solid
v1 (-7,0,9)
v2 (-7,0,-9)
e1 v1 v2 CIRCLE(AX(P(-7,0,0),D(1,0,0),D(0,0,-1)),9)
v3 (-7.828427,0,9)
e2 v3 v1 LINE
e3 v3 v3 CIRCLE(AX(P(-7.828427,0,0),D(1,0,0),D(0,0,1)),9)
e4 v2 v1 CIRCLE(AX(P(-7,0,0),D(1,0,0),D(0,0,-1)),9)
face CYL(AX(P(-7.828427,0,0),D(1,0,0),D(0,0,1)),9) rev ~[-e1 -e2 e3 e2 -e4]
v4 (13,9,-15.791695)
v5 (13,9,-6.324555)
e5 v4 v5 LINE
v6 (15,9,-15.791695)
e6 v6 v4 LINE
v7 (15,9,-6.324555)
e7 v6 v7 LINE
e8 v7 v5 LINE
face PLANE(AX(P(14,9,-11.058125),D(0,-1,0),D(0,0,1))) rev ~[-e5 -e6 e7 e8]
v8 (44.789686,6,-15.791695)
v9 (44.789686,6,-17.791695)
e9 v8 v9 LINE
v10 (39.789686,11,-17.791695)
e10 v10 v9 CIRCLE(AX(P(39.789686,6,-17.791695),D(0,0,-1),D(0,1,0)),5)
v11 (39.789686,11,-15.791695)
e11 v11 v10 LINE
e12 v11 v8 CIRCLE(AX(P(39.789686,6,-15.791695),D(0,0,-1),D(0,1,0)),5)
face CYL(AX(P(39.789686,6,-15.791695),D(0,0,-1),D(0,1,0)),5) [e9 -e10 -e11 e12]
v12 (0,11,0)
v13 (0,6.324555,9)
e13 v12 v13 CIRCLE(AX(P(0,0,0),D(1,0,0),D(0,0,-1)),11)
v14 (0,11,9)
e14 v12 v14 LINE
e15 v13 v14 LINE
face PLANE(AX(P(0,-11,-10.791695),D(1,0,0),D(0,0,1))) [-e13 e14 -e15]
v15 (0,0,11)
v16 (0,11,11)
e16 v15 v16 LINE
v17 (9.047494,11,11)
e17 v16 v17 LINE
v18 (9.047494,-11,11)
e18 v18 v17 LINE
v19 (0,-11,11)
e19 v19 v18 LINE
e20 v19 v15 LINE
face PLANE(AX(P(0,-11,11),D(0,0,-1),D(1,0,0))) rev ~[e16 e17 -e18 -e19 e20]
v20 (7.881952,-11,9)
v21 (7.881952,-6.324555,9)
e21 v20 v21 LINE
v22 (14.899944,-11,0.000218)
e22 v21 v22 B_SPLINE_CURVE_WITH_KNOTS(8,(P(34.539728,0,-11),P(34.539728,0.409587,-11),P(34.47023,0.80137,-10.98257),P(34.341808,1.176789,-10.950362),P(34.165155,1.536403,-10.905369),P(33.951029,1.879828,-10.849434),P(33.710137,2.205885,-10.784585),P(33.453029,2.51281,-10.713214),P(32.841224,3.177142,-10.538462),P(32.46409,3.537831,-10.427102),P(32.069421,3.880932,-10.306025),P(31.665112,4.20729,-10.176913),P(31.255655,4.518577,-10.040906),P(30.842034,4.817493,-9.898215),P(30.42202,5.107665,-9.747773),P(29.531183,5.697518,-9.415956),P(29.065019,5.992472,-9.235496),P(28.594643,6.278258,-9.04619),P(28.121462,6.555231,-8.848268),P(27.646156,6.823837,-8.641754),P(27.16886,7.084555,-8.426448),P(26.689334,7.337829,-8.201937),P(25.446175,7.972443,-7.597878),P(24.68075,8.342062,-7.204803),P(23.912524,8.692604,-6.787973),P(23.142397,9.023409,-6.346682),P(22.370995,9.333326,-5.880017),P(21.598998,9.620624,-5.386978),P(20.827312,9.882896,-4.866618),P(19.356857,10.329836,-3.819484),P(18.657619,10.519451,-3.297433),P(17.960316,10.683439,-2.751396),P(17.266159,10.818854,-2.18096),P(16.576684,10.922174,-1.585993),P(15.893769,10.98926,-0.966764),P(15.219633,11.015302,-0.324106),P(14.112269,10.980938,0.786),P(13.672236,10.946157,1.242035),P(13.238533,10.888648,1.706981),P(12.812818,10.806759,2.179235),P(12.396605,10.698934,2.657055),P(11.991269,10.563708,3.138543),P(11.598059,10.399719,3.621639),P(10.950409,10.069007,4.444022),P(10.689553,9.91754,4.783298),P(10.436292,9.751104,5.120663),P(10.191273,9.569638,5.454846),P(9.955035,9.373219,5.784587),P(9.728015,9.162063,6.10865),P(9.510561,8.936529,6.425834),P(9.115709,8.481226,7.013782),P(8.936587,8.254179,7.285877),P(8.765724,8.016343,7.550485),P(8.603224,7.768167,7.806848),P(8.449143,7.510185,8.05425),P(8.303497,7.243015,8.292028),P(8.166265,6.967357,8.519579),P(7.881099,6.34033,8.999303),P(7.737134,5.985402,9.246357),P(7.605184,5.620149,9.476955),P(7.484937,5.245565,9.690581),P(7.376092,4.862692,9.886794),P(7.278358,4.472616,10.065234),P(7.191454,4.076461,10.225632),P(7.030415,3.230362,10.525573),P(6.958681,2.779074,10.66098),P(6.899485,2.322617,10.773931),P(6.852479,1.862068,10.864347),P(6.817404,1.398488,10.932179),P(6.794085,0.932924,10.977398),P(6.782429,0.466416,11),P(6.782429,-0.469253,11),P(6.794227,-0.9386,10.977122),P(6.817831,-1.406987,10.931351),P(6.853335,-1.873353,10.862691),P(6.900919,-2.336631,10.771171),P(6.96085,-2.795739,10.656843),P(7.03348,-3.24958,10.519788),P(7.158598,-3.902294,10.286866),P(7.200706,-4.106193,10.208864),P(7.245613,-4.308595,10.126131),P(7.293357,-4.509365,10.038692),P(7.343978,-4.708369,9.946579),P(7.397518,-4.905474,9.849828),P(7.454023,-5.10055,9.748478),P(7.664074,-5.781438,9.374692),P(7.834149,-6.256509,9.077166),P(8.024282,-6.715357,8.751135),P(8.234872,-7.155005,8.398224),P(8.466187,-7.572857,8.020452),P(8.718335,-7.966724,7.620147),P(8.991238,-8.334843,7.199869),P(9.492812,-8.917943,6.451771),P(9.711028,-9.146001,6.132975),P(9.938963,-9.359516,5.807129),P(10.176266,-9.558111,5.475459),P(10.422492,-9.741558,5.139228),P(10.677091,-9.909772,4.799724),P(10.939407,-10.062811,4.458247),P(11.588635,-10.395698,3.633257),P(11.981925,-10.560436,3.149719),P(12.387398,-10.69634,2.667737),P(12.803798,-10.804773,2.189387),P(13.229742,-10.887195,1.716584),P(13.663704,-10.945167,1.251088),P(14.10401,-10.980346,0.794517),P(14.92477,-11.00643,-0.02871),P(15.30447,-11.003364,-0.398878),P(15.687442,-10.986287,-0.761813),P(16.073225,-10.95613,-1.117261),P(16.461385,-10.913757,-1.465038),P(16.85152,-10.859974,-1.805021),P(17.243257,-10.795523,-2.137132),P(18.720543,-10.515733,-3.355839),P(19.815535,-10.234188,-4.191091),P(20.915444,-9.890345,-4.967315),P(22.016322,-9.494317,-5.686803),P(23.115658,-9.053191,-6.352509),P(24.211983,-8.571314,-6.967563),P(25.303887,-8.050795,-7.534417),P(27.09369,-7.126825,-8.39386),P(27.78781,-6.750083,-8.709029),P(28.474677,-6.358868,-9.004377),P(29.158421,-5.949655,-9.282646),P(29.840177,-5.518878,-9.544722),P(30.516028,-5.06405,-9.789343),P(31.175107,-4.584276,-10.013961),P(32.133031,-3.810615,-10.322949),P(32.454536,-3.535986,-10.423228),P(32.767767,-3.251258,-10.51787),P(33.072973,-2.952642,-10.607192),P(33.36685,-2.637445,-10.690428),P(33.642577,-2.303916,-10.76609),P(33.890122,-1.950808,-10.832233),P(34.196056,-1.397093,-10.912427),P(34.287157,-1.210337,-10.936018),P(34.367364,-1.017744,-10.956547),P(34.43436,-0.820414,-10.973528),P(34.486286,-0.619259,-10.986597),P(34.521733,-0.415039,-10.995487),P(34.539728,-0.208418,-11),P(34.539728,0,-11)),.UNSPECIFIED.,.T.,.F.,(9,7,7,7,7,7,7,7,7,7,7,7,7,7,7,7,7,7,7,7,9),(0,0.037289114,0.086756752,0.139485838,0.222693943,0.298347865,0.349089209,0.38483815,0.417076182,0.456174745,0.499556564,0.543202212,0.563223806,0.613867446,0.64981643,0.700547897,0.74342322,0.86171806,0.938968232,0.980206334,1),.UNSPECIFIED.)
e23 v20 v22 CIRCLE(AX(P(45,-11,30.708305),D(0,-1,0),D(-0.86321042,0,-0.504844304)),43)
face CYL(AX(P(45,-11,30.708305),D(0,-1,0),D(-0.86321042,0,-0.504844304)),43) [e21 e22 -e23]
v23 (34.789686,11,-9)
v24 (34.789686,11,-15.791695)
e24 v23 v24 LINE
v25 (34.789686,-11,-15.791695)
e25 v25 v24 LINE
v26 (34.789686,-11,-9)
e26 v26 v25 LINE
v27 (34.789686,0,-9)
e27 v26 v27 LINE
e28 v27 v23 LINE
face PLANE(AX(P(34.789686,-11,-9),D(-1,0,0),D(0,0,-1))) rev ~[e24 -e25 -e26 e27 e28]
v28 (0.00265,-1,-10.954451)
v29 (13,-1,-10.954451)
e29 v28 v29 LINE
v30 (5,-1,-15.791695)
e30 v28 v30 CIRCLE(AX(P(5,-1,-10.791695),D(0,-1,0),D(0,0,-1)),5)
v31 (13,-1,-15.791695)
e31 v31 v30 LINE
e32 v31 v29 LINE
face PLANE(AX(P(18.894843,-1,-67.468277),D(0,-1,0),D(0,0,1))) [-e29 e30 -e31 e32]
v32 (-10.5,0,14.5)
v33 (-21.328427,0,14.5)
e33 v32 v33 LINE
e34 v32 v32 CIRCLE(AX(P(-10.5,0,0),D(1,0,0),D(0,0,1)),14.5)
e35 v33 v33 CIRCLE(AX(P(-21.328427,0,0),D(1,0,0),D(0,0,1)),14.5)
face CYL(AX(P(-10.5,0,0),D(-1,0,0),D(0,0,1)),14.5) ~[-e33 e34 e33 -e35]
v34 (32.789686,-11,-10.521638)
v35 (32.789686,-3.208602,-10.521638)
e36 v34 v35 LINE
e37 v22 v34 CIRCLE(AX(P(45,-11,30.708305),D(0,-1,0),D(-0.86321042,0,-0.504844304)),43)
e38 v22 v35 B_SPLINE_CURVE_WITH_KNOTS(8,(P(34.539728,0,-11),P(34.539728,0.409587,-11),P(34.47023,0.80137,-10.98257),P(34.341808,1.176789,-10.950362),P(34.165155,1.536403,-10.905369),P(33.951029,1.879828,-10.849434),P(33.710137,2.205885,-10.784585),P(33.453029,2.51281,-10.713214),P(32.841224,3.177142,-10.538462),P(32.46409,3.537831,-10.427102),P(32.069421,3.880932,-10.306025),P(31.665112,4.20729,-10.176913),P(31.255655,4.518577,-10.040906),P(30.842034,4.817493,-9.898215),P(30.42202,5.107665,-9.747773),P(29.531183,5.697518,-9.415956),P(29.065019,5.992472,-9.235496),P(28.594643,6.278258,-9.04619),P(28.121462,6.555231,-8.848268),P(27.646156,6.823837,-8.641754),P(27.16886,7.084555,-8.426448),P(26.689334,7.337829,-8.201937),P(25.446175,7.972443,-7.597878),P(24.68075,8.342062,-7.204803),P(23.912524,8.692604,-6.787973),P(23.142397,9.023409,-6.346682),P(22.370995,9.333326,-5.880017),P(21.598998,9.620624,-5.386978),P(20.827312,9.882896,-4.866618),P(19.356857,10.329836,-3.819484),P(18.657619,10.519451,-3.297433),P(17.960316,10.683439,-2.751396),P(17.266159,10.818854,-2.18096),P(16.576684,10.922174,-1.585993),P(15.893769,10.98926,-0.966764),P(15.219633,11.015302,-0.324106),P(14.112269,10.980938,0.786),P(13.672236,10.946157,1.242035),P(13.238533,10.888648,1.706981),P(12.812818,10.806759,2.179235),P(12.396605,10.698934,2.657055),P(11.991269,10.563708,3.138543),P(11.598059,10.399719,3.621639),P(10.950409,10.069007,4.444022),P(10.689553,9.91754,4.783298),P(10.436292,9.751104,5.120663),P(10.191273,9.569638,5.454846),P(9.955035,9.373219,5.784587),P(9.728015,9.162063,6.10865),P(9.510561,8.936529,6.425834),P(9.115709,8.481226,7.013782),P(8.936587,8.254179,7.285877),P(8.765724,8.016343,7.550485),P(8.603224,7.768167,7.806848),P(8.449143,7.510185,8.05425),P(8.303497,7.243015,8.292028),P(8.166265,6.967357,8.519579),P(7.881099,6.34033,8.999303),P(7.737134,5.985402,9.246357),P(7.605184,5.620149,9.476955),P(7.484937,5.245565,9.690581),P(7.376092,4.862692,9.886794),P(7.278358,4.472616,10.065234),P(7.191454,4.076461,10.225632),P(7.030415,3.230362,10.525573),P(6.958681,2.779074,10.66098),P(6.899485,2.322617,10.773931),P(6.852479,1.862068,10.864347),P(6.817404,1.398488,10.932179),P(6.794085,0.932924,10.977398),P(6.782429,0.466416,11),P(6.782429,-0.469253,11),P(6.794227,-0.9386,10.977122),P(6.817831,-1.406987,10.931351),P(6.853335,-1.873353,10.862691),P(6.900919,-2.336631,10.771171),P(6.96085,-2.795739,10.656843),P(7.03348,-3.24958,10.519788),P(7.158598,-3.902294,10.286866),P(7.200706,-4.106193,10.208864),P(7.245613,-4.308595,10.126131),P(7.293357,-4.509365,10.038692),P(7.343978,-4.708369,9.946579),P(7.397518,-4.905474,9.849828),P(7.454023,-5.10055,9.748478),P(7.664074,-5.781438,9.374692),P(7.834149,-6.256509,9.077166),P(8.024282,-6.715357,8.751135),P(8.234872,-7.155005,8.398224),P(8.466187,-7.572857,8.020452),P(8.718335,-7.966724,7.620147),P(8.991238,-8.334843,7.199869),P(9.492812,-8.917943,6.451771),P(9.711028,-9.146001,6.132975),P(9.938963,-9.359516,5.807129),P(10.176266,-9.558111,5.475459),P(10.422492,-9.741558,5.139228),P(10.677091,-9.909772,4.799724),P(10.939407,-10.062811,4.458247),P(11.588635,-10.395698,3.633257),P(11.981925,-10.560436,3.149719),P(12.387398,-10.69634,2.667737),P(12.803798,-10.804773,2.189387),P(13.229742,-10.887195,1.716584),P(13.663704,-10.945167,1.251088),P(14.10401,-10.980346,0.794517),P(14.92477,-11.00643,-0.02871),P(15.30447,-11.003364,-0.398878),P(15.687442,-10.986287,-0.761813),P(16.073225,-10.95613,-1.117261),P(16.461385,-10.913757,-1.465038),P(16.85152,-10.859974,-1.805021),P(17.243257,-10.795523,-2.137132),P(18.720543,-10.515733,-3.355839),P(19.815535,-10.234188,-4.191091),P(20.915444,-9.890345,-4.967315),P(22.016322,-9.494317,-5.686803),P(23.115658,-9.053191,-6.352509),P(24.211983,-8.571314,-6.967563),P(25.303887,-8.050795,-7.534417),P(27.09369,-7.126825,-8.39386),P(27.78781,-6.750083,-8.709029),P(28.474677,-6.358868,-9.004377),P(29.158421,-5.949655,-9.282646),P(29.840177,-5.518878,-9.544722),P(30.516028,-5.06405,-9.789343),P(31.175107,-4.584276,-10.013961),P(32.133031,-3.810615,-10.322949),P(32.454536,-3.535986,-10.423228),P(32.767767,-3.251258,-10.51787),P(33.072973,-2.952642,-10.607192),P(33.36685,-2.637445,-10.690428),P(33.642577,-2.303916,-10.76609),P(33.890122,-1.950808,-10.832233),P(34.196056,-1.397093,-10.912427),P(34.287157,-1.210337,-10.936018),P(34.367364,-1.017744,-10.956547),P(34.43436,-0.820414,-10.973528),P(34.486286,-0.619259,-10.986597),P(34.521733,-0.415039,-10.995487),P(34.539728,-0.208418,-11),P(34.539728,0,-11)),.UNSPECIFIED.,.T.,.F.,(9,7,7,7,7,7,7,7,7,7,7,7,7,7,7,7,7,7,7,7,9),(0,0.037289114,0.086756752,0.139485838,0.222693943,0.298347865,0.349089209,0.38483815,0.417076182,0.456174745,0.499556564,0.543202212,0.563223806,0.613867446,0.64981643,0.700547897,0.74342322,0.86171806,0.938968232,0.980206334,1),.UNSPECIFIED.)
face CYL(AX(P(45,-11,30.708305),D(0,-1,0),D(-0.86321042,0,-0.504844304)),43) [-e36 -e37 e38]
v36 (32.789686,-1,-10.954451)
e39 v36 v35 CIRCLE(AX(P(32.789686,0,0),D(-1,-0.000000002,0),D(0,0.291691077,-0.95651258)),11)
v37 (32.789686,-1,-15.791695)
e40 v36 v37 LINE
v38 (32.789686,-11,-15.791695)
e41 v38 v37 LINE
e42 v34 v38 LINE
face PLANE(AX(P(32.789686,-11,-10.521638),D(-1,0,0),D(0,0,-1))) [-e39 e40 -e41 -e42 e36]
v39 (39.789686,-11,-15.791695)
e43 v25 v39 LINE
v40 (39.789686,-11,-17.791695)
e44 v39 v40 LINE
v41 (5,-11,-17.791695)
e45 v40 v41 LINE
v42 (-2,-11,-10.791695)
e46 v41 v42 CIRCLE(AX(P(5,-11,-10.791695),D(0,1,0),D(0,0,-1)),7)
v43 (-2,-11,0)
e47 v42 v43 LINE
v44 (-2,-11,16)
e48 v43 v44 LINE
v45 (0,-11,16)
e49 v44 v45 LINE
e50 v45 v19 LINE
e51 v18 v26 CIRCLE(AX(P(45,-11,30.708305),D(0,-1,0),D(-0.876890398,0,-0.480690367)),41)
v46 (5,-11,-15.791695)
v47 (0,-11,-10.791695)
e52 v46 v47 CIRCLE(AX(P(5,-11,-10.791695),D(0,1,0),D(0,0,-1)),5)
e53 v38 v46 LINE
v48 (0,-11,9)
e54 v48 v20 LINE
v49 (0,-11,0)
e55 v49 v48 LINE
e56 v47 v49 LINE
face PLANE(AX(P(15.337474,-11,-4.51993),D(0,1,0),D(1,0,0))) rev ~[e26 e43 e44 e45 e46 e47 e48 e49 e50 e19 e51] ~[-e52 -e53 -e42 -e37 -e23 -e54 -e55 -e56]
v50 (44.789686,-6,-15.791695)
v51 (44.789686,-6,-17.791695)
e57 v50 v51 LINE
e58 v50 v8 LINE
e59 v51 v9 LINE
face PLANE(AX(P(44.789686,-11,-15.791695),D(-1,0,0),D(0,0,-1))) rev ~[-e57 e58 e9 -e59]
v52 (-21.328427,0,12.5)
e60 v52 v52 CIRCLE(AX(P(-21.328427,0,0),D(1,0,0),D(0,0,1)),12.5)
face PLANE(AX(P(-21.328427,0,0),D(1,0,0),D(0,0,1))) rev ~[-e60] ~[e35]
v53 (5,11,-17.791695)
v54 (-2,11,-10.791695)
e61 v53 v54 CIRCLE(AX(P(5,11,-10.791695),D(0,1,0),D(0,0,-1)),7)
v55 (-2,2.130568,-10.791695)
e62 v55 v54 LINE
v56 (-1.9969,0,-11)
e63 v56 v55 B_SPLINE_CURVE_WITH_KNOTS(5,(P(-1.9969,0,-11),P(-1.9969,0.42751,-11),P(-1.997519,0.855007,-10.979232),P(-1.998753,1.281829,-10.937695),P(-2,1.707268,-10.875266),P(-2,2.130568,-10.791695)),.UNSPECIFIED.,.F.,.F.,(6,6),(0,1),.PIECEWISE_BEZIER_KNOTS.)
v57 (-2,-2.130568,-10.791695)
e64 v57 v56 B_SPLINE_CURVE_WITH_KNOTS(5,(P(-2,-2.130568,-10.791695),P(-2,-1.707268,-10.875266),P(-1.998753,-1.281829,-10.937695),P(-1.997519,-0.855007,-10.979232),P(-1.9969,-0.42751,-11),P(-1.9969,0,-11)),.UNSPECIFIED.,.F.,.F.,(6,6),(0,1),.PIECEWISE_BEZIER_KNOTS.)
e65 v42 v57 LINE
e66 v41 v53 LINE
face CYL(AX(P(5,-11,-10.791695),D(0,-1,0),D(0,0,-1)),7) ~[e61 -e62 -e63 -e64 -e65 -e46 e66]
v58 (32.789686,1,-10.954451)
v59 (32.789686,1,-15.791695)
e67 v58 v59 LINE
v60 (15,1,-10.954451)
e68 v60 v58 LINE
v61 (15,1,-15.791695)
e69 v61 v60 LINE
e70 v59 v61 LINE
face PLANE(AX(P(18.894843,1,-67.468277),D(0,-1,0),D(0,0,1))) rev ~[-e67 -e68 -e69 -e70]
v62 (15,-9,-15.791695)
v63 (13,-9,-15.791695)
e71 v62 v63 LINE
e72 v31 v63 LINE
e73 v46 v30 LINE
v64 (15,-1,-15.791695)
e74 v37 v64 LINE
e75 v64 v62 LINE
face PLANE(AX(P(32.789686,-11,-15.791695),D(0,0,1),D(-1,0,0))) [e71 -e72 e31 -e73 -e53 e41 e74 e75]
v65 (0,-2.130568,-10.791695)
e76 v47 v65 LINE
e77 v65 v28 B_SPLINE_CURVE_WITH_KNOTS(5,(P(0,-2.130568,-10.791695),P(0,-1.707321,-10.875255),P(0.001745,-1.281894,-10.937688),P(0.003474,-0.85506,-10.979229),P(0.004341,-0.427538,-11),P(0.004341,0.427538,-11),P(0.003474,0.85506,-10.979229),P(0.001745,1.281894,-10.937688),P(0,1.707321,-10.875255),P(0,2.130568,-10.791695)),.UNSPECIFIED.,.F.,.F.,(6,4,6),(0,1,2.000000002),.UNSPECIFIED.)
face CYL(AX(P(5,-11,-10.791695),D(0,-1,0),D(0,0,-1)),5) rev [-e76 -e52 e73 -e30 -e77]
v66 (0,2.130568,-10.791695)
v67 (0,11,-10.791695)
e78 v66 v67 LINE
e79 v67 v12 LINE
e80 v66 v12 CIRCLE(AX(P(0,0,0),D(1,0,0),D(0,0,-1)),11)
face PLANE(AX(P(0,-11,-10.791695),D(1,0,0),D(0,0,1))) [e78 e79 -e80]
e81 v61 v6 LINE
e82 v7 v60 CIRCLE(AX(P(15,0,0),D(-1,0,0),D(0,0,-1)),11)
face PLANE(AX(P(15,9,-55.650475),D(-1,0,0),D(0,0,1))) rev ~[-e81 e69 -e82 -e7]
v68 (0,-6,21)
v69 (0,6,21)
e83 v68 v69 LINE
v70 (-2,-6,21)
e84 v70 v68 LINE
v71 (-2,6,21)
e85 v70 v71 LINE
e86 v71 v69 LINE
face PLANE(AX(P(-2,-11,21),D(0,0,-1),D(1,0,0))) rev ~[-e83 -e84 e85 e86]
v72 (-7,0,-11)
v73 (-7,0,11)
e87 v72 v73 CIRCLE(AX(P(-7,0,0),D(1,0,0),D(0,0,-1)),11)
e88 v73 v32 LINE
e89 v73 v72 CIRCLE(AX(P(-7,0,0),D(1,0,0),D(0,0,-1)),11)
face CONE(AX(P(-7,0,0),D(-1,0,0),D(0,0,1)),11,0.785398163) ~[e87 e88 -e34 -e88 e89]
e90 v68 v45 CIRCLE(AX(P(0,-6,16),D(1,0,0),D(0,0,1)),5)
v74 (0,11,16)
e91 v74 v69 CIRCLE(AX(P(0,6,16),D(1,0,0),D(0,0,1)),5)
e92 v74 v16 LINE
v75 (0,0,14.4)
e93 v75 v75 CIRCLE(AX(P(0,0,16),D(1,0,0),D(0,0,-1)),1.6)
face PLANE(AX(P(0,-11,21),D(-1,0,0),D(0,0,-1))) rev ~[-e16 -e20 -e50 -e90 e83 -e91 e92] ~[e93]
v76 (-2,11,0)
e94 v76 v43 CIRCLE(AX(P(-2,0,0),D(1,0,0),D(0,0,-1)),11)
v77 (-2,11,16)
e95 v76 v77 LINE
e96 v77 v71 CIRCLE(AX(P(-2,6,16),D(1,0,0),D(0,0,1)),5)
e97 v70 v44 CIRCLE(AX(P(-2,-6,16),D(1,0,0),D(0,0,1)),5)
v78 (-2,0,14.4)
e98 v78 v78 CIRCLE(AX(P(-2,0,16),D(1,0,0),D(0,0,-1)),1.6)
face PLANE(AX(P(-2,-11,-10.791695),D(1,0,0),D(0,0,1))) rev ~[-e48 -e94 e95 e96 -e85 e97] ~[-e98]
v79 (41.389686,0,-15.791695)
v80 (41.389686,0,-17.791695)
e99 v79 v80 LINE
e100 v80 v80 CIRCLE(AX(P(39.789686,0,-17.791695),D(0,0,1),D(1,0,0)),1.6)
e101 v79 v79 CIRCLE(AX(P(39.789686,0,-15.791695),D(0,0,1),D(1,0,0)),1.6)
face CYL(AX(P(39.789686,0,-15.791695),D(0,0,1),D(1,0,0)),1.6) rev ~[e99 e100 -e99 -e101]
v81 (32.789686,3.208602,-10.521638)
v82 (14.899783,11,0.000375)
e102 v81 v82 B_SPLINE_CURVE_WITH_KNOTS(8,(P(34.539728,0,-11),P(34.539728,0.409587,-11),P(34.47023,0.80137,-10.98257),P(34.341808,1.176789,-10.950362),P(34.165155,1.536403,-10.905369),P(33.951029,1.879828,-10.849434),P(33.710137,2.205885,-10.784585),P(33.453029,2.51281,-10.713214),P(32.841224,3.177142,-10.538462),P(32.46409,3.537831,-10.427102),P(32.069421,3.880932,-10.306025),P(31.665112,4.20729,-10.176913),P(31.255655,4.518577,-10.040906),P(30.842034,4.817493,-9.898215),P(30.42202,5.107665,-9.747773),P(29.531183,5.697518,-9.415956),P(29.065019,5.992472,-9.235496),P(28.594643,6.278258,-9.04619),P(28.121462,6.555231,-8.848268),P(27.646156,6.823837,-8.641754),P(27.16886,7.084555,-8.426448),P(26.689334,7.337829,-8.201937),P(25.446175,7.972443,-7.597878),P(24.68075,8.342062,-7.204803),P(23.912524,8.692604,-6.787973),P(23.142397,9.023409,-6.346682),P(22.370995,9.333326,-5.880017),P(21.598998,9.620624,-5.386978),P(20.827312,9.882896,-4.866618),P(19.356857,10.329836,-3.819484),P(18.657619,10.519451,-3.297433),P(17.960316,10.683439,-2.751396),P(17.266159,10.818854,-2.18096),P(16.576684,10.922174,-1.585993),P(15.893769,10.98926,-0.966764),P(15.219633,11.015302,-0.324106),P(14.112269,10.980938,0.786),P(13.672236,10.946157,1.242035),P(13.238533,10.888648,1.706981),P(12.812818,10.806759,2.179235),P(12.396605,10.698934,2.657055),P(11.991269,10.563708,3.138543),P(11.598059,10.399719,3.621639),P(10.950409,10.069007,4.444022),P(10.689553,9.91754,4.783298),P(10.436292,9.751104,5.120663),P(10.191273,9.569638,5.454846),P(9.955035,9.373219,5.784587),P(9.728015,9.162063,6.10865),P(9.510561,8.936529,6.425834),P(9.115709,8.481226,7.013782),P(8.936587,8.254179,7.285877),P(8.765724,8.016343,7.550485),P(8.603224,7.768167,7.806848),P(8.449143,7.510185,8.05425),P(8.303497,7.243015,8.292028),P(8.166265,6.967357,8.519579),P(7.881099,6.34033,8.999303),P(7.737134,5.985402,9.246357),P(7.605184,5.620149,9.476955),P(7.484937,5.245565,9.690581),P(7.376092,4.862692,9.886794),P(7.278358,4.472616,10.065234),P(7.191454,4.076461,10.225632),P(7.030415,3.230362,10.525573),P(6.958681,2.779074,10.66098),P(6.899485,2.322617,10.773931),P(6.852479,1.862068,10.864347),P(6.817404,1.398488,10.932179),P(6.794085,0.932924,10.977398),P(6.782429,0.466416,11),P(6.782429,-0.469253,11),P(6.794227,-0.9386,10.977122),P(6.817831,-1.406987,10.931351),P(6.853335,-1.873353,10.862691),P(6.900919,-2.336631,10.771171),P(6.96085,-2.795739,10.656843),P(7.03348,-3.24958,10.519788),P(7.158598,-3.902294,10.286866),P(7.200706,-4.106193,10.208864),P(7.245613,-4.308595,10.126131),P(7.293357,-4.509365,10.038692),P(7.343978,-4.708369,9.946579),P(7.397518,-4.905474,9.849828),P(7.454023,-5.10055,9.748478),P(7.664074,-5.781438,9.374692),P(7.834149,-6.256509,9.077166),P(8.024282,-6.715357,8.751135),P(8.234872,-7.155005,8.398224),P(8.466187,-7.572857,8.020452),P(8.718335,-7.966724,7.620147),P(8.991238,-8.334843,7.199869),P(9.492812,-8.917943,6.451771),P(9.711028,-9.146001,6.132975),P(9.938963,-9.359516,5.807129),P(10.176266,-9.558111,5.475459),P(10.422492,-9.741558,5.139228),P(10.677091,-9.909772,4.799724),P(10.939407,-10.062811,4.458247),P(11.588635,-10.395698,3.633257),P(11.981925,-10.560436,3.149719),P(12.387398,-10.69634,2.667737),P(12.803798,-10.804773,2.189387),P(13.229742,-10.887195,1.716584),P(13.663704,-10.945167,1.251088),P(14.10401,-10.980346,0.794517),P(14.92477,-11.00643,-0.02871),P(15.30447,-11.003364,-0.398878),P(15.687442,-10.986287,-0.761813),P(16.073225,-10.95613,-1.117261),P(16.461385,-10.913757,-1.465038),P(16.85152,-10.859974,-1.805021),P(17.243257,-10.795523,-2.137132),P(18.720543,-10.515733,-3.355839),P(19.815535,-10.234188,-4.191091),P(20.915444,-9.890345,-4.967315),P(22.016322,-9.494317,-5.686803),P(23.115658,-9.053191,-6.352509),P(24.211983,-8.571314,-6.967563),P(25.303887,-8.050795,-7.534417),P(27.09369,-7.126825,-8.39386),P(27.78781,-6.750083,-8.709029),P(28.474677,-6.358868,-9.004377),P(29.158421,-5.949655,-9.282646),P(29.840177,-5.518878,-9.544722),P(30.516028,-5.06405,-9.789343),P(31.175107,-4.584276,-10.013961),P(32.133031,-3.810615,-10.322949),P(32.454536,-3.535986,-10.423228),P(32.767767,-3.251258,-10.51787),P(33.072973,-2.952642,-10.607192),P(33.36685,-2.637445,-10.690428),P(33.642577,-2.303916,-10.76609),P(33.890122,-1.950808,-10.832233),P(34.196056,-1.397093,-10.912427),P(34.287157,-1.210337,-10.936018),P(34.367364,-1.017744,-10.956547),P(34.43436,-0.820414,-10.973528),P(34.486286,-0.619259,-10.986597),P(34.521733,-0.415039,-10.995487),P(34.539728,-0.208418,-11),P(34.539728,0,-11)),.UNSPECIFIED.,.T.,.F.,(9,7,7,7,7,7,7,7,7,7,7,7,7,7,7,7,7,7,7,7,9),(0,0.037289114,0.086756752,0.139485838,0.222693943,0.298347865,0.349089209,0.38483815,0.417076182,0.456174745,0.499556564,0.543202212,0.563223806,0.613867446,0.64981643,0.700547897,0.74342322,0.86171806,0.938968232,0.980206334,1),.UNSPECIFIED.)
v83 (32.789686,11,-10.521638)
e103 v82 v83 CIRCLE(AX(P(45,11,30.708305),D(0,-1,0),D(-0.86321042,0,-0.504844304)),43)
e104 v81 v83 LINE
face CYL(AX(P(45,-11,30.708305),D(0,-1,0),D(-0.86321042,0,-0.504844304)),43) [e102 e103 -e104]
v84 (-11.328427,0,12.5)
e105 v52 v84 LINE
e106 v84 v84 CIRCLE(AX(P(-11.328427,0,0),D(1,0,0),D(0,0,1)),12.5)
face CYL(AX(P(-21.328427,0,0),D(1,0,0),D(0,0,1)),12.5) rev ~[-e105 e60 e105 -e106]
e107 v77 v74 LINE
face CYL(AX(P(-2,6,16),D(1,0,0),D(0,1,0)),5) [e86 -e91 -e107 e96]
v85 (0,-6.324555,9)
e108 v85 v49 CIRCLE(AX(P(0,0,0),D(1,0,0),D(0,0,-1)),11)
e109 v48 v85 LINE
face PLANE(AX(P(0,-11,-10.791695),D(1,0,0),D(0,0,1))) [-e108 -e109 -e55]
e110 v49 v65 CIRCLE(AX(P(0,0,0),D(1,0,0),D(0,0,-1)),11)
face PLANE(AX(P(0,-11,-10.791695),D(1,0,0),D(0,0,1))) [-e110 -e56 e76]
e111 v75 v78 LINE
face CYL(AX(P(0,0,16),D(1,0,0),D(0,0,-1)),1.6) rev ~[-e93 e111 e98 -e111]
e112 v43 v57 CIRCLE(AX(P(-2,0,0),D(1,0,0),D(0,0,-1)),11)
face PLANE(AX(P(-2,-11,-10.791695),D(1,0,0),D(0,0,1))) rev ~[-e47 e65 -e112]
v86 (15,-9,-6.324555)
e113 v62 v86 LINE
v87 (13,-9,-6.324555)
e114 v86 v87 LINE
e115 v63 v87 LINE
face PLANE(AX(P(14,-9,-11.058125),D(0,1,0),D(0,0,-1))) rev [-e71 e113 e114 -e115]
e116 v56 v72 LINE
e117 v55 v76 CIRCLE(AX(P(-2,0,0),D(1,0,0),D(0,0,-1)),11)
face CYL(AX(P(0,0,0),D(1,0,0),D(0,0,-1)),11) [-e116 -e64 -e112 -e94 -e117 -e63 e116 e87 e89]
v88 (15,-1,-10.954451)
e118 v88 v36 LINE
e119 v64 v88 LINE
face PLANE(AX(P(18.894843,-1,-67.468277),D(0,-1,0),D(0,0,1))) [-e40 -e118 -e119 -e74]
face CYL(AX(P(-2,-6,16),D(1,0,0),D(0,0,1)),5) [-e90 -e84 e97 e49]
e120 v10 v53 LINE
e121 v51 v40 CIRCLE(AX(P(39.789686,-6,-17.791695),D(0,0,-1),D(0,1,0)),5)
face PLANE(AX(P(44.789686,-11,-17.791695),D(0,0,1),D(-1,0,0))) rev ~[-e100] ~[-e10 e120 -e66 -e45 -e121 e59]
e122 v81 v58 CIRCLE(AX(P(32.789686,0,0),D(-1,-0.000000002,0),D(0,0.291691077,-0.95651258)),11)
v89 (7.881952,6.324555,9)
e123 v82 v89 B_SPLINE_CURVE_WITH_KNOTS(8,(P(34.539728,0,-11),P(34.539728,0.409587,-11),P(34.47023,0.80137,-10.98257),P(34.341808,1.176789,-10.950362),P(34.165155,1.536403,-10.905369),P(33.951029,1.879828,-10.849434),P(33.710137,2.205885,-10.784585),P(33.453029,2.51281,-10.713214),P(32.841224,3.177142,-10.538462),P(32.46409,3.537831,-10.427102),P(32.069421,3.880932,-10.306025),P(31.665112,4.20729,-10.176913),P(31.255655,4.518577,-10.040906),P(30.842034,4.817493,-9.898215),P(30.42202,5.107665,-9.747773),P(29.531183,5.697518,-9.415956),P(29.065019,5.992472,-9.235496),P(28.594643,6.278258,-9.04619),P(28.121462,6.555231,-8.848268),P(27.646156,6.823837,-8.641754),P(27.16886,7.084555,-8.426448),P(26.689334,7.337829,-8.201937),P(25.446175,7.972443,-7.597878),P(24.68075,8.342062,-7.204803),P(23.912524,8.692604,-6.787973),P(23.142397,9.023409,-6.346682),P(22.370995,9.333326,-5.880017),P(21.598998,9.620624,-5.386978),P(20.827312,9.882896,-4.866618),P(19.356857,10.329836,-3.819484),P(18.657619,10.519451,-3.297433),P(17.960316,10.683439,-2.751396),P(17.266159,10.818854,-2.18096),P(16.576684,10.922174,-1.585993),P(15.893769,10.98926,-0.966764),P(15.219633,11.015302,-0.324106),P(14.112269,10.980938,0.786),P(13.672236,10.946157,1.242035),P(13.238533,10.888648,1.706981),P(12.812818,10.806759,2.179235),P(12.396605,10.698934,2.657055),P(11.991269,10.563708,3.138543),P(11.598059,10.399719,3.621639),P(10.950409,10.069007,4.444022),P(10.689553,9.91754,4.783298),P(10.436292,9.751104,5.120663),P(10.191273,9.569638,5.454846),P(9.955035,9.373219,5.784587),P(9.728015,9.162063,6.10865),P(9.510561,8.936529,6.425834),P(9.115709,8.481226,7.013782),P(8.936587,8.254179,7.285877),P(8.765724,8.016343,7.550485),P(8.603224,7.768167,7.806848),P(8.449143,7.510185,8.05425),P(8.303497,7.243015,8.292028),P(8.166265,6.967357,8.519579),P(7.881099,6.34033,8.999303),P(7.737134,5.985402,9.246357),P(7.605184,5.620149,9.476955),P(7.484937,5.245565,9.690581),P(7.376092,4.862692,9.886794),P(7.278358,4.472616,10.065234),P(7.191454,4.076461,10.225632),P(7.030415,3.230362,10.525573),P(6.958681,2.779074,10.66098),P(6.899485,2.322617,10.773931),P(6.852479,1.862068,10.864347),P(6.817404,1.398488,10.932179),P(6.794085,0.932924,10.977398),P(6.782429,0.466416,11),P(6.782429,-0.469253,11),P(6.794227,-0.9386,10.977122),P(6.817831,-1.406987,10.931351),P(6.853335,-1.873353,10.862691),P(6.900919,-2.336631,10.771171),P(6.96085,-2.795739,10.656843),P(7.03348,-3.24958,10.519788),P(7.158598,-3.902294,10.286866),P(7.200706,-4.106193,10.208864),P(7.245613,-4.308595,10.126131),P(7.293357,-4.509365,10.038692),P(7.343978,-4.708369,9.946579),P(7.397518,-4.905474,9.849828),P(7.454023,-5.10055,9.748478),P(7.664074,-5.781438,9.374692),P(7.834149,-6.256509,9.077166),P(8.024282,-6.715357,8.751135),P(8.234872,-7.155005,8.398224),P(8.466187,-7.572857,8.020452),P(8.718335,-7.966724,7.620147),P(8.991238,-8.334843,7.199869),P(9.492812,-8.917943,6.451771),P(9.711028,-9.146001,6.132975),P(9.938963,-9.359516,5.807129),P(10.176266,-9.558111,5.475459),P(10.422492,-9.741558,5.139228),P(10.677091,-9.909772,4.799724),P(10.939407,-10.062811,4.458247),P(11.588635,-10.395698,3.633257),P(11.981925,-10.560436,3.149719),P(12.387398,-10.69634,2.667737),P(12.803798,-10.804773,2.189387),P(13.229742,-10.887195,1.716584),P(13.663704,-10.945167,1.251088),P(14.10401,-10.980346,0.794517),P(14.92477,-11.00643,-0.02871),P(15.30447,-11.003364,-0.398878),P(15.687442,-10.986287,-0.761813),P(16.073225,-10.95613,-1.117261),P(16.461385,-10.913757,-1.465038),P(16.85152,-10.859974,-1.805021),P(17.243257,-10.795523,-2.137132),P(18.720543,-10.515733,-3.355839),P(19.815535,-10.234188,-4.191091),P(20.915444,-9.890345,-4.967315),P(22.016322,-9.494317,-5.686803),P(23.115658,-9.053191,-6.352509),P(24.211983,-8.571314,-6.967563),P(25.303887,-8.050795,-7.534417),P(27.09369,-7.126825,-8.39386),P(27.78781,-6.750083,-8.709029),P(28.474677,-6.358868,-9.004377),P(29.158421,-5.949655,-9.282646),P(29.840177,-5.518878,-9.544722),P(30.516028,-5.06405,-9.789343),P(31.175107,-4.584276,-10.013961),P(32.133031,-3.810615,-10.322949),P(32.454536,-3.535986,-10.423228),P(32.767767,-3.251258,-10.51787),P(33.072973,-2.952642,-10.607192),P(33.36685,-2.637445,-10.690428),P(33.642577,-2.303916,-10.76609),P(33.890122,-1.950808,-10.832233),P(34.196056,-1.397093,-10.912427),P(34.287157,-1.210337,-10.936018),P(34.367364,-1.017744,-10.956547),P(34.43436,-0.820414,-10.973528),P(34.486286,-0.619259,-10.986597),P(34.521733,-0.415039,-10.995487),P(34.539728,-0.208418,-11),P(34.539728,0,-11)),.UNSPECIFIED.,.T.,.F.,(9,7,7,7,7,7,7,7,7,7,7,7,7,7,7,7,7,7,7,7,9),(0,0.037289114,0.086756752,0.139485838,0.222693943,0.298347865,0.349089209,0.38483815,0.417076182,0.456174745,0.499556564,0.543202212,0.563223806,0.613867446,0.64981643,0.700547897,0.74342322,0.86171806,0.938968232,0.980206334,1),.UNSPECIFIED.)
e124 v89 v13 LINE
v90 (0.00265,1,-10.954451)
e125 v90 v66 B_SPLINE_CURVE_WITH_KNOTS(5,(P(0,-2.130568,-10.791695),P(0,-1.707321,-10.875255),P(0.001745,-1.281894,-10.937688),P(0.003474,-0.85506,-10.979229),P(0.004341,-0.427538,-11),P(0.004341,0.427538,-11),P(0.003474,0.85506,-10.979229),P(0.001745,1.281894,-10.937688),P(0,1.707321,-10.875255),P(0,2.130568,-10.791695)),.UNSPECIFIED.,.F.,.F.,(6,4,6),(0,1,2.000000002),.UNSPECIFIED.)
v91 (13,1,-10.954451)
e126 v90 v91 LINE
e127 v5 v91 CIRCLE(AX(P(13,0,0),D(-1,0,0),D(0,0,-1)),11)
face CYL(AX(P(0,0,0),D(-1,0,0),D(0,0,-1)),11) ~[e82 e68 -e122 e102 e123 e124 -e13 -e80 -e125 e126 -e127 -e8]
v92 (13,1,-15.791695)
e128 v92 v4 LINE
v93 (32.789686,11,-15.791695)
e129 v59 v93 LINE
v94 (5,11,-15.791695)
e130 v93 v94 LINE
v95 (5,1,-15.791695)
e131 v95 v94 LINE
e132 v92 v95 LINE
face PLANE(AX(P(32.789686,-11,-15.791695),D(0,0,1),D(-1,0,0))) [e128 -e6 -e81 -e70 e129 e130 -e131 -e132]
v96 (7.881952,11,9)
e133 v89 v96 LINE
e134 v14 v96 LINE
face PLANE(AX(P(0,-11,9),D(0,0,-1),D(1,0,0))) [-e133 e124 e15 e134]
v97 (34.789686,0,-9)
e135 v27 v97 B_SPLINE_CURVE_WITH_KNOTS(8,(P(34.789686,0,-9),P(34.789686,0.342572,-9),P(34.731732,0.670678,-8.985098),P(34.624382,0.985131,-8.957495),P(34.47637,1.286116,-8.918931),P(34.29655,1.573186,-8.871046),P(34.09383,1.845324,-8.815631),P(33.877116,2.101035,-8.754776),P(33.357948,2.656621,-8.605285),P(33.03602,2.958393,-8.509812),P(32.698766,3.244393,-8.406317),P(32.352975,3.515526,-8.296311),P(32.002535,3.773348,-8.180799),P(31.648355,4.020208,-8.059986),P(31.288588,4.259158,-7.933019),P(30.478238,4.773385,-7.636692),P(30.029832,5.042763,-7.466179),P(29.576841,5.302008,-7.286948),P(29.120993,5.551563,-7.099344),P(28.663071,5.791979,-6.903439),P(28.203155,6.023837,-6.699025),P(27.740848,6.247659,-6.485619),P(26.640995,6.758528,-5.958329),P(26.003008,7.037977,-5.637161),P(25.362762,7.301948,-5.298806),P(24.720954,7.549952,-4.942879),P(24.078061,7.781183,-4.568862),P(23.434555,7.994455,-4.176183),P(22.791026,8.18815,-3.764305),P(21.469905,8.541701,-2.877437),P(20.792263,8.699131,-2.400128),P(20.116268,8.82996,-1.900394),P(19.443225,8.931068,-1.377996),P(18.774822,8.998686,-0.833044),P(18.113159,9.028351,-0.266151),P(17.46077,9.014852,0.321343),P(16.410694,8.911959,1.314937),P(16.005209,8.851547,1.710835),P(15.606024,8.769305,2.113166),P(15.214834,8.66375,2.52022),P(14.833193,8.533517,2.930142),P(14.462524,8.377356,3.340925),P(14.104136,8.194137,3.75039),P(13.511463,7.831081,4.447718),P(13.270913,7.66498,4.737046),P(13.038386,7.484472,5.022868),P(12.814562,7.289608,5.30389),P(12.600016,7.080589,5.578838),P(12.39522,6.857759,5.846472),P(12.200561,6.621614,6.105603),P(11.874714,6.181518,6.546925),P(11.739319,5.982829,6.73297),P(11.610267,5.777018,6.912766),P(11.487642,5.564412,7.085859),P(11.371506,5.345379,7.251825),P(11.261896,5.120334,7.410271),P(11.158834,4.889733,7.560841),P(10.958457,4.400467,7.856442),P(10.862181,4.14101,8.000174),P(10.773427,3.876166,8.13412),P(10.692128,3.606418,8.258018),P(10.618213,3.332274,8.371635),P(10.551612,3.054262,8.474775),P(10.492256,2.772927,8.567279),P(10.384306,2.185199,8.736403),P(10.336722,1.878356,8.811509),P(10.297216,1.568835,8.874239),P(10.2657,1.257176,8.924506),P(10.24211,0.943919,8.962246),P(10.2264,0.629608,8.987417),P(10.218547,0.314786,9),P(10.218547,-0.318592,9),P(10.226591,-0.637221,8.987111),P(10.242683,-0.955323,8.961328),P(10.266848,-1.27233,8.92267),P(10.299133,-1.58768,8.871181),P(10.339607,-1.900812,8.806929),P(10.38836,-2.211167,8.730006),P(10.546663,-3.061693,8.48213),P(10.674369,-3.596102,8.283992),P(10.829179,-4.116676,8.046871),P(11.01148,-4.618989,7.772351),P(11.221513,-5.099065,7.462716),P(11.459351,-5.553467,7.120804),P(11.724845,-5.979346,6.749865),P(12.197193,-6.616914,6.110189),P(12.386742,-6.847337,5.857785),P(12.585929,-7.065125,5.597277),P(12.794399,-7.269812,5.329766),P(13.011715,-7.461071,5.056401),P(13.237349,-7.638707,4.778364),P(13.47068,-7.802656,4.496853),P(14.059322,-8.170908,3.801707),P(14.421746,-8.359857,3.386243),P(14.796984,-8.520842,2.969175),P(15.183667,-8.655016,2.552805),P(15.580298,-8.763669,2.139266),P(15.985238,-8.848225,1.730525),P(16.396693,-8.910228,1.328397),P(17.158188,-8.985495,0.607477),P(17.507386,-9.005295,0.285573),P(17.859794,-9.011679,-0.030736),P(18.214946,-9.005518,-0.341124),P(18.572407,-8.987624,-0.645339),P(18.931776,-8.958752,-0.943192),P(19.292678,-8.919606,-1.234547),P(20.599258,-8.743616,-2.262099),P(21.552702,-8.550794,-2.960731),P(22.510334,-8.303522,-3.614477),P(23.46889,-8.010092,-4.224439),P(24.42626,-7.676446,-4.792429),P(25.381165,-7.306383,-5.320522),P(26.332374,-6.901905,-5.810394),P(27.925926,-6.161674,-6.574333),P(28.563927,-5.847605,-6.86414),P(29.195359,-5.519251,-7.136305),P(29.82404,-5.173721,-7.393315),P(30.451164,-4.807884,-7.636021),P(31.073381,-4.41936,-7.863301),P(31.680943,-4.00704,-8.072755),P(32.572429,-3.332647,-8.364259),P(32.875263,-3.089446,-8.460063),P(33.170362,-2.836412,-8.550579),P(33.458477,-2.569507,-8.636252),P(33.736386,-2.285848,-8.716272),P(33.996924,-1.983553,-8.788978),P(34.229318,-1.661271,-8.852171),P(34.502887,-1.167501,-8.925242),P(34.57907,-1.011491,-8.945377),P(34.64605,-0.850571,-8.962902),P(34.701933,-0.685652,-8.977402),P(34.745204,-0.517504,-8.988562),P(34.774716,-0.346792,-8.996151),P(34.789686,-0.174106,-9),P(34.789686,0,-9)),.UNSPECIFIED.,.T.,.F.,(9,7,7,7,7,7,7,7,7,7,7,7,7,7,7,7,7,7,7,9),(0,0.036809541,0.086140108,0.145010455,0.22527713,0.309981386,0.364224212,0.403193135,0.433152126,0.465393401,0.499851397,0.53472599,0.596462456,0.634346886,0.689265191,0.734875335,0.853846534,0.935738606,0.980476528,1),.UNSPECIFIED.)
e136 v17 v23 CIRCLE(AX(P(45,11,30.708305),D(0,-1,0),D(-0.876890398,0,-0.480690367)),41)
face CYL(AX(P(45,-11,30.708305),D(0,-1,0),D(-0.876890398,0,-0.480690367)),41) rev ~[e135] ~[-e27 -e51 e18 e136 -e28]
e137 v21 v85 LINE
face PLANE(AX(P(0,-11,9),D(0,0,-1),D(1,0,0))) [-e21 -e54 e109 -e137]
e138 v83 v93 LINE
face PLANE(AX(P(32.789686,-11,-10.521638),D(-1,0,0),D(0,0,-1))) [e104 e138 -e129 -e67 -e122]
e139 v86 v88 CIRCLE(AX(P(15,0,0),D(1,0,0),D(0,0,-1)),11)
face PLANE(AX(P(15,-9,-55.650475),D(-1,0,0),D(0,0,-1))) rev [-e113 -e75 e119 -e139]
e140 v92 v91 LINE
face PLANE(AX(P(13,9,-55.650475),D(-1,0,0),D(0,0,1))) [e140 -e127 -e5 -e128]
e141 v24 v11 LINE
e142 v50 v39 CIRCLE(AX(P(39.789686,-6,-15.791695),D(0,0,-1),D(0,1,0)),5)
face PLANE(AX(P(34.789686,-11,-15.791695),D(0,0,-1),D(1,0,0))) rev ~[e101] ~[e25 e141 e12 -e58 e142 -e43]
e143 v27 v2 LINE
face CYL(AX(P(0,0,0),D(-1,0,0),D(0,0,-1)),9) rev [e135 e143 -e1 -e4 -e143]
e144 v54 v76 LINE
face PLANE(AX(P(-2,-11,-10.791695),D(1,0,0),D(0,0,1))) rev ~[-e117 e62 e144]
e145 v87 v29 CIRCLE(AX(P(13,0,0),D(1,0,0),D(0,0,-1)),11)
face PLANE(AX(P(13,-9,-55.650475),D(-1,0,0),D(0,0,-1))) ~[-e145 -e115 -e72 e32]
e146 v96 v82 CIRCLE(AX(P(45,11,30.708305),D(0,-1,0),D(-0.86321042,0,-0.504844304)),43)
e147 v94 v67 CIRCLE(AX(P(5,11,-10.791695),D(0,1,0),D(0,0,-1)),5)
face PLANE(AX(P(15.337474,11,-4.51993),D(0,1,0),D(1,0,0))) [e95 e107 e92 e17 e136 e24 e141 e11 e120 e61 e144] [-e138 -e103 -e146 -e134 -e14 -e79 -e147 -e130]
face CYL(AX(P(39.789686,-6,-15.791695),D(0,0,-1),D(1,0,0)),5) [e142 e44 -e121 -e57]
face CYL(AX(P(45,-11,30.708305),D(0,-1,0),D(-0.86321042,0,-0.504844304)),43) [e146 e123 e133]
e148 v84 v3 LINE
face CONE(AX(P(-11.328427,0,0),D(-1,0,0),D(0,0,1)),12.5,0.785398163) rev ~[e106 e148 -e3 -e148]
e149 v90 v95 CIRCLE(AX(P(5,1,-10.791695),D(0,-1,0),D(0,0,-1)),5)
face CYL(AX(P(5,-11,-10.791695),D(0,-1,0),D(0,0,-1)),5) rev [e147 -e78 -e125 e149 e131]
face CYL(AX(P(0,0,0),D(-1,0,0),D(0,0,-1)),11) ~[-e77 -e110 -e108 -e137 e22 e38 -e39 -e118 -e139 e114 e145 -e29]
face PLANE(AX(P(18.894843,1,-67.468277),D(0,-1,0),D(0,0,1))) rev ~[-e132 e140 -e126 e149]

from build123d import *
from build123d.topology import SkipClean

# Parameters (mm, degrees)
EXTRUDE_1_DEPTH                 = 11
EXTRUDE_1_DEPTH_BACK            = 11
EXTRUDE_6_REACH                 = 52.677
EXTRUDE_6_END_RADIUS            = 43
SKETCH_4_R                      = 11
EXTRUDE_6_DIRECTION_2_DEPTH     = 7
RIB_11_REACH                    = 52.677
SKETCH_7_WALL_W                 = 108.144859428
SKETCH_7_WALL_H                 = 2
RIB_12_REACH                    = 52.677
SKETCH_7_2_WALL_W               = 108.144859428
SKETCH_7_2_WALL_H               = 2
RIB_14_REACH                    = 40.859
SKETCH_8_WALL_W                 = 89.184699428
SKETCH_8_WALL_H                 = 2
CUT_EXTRUDE_1_REACH             = 52.677
CUT_EXTRUDE_1_END_RADIUS        = 41
SKETCH_9_R                      = 9
CUT_EXTRUDE_1_DIRECTION_2_DEPTH = 7
CUT_EXTRUDE_2_REACH             = 52.677
SKETCH_10_R                     = 1.6
CUT_EXTRUDE_3_REACH             = 60.998
SKETCH_11_R                     = 1.6
FILLET_1_R                      = 5


with BuildPart() as part:
    # 草图2 → 凸台-拉伸1 (new, two sides: drawn at the far end of the back side and taken through both)
    with BuildSketch(Plane(origin=(0, 0, 0), x_dir=(1, 0, 0), z_dir=(0, 1, 0)).offset(-EXTRUDE_1_DEPTH_BACK)):
        with BuildLine():
            Line((-2, 10.791694934), (-2, -21))
            Line((-2, -21), (0, -21))
            Line((0, -21), (0, -11))
            Line((0, -11), (9.04749367, -11))
            ThreePointArc((9.04749367, -11), (19.845447894, 1.668361044), (34.789686155, 9))
            Line((34.789686155, 9), (34.789686155, 15.791694934))
            Line((34.789686155, 15.791694934), (44.789686155, 15.791694934))
            Line((44.789686155, 15.791694934), (44.789686155, 17.791694934))
            Line((44.789686155, 17.791694934), (5, 17.791694934))
            ThreePointArc((5, 17.791694934), (0.050252532, 15.741442403), (-2, 10.791694934))
        make_face()
        with BuildLine():
            Line((0, 10.791694934), (0, -9))
            Line((0, -9), (7.881951948, -9))
            ThreePointArc((7.881951948, -9), (18.474626995, 3.135521358), (32.789686155, 10.521638371))
            Line((32.789686155, 10.521638371), (32.789686155, 15.791694934))
            Line((32.789686155, 15.791694934), (5, 15.791694934))
            ThreePointArc((5, 15.791694934), (1.464466094, 14.32722884), (0, 10.791694934))
        make_face(mode=Mode.SUBTRACT)
    extrude(amount=EXTRUDE_1_DEPTH + EXTRUDE_1_DEPTH_BACK)

    # 凸台-拉伸6: up to this cylinder (the profile starts outside it)
    extrude_6_end = Plane(origin=(45, 0, 30.708305066), z_dir=(0, 1, 0)) * Cylinder(EXTRUDE_6_END_RADIUS, 192.354, mode=Mode.PRIVATE)
    # 草图4 → 凸台-拉伸6 (add, up to the surface)
    with BuildSketch(Plane(origin=(0, 0, 0), x_dir=(0, 0, -1), z_dir=(1, 0, 0)), mode=Mode.PRIVATE) as extrude_6_sk1:
        Circle(SKETCH_4_R)
    extrude_6_tool1 = extrude(extrude_6_sk1.sketch, amount=EXTRUDE_6_REACH, mode=Mode.PRIVATE) - extrude_6_end
    add(extrude_6_tool1.solids().sort_by_distance((0, 0, 0))[0])

    # 草图4 → 凸台-拉伸6 direction 2 (add)
    with BuildSketch(Plane(origin=(0, 0, 0), x_dir=(0, 0, -1), z_dir=(1, 0, 0))):
        Circle(SKETCH_4_R)
    extrude(amount=-EXTRUDE_6_DIRECTION_2_DEPTH)

    # 草图7 wall → 筋11 (add, up to next)
    with BuildSketch(Plane(origin=(18.894843077, 0, -13.395847467), x_dir=(0, 0, 1), z_dir=(1, 0, 0)), mode=Mode.PRIVATE) as rib_11_sk1:
        Rectangle(SKETCH_7_WALL_W, SKETCH_7_WALL_H)
    rib_11_tool1 = extrude(rib_11_sk1.sketch, amount=-RIB_11_REACH, mode=Mode.PRIVATE) - part.part
    add(rib_11_tool1.solids().sort_by_distance((18.894843077, 0, -13.395847467))[0])

    # 草图7<2> wall → 筋12 (add, up to next)
    with BuildSketch(Plane(origin=(18.894843077, 0, -13.395847467), x_dir=(0, 0, 1), z_dir=(1, 0, 0)), mode=Mode.PRIVATE) as rib_12_sk1:
        Rectangle(SKETCH_7_2_WALL_W, SKETCH_7_2_WALL_H)
    rib_12_tool1 = extrude(rib_12_sk1.sketch, amount=RIB_12_REACH, mode=Mode.PRIVATE) - part.part
    add(rib_12_tool1.solids().sort_by_distance((18.894843077, 0, -13.395847467))[0])

    # 草图8 wall → 筋14 (add, up to next)
    with BuildSketch(Plane(origin=(14, 9, -11.058125127), x_dir=(0, 0, 1), z_dir=(0, -1, 0)), mode=Mode.PRIVATE) as rib_14_sk1:
        Rectangle(SKETCH_8_WALL_W, SKETCH_8_WALL_H)
    rib_14_tool1 = extrude(rib_14_sk1.sketch, amount=RIB_14_REACH, mode=Mode.PRIVATE) - part.part
    rib_14 = rib_14_tool1.solids().sort_by_distance((14, 9, -11.058125127))[0]
    add(rib_14)

    # 镜向1: 筋14 across plane
    add(rib_14.mirror(Plane.ZX))

    # 切除-拉伸1: up to this cylinder (the profile starts outside it)
    cut_extrude_1_end = Plane(origin=(45, 0, 30.708305066), z_dir=(0, 1, 0)) * Cylinder(CUT_EXTRUDE_1_END_RADIUS, 188.354, mode=Mode.PRIVATE)
    # 草图9 → 切除-拉伸1 (cut, up to the surface)
    with BuildSketch(Plane(origin=(0, 0, 0), x_dir=(0, 0, -1), z_dir=(1, 0, 0)), mode=Mode.PRIVATE) as cut_extrude_1_sk1:
        Circle(SKETCH_9_R)
    cut_extrude_1_tool1 = extrude(cut_extrude_1_sk1.sketch, amount=CUT_EXTRUDE_1_REACH, mode=Mode.PRIVATE) - cut_extrude_1_end
    add(cut_extrude_1_tool1.solids().sort_by_distance((0, 0, 0))[0], mode=Mode.SUBTRACT)

    # 草图9 → 切除-拉伸1 direction 2 (cut)
    with BuildSketch(Plane(origin=(0, 0, 0), x_dir=(0, 0, -1), z_dir=(1, 0, 0))):
        Circle(SKETCH_9_R)
    extrude(amount=-CUT_EXTRUDE_1_DIRECTION_2_DEPTH, mode=Mode.SUBTRACT)

    # 草图10 → 切除-拉伸2 (cut, up to next)
    with BuildSketch(Plane(origin=(0, 0, 0), x_dir=(0, 0, -1), z_dir=(1, 0, 0)), mode=Mode.PRIVATE) as cut_extrude_2_sk1:
        with Locations((-16, 0)):
            Circle(SKETCH_10_R)
    cut_extrude_2_tool1 = extrude(cut_extrude_2_sk1.sketch, amount=-CUT_EXTRUDE_2_REACH, mode=Mode.PRIVATE) & part.part
    add(cut_extrude_2_tool1.solids().sort_by_distance((0, 0, 16))[0], mode=Mode.SUBTRACT)

    # 草图11 → 切除-拉伸3 (cut, up to next)
    with BuildSketch(Plane.XY.offset(-15.791694934), mode=Mode.PRIVATE) as cut_extrude_3_sk1:
        with Locations((39.789686155, 0)):
            Circle(SKETCH_11_R)
    cut_extrude_3_tool1 = extrude(cut_extrude_3_sk1.sketch, amount=-CUT_EXTRUDE_3_REACH, mode=Mode.PRIVATE) & part.part
    add(cut_extrude_3_tool1.solids().sort_by_distance((39.789686, 0, -15.791695))[0], mode=Mode.SUBTRACT)

    # 圆角1
    fillet_1_edges = [part.edges().sort_by_distance(p)[0] for p in [
        (44.789686155, -11, -16.791694934),
        (-1, -11, 21),
        (-1, 11, 21),
        (44.789686155, 11, -16.791694934),
    ]]
    fillet(fillet_1_edges, radius=FILLET_1_R)

    # 草图14 → 旋转1 (revolve)
    with SkipClean():  # the faces are left unmerged after this step: merging them gives an invalid solid
        with BuildSketch(Plane.XY, mode=Mode.PRIVATE) as revolve_1_sk:
            Polygon((-10.5, 14.5), (-21.328427125, 14.5), (-21.328427125, 12.5), (-11.328427125, 12.5), (-7.828427125, 9), (-7, 9), (-7, 11), align=None)
        revolve(revolve_1_sk.sketch.rotate(Axis((-18.782404652, 0, 0), (1, 0, 0)), 90), axis=Axis((-18.782404652, 0, 0), (1, 0, 0)))


solid = part.part
